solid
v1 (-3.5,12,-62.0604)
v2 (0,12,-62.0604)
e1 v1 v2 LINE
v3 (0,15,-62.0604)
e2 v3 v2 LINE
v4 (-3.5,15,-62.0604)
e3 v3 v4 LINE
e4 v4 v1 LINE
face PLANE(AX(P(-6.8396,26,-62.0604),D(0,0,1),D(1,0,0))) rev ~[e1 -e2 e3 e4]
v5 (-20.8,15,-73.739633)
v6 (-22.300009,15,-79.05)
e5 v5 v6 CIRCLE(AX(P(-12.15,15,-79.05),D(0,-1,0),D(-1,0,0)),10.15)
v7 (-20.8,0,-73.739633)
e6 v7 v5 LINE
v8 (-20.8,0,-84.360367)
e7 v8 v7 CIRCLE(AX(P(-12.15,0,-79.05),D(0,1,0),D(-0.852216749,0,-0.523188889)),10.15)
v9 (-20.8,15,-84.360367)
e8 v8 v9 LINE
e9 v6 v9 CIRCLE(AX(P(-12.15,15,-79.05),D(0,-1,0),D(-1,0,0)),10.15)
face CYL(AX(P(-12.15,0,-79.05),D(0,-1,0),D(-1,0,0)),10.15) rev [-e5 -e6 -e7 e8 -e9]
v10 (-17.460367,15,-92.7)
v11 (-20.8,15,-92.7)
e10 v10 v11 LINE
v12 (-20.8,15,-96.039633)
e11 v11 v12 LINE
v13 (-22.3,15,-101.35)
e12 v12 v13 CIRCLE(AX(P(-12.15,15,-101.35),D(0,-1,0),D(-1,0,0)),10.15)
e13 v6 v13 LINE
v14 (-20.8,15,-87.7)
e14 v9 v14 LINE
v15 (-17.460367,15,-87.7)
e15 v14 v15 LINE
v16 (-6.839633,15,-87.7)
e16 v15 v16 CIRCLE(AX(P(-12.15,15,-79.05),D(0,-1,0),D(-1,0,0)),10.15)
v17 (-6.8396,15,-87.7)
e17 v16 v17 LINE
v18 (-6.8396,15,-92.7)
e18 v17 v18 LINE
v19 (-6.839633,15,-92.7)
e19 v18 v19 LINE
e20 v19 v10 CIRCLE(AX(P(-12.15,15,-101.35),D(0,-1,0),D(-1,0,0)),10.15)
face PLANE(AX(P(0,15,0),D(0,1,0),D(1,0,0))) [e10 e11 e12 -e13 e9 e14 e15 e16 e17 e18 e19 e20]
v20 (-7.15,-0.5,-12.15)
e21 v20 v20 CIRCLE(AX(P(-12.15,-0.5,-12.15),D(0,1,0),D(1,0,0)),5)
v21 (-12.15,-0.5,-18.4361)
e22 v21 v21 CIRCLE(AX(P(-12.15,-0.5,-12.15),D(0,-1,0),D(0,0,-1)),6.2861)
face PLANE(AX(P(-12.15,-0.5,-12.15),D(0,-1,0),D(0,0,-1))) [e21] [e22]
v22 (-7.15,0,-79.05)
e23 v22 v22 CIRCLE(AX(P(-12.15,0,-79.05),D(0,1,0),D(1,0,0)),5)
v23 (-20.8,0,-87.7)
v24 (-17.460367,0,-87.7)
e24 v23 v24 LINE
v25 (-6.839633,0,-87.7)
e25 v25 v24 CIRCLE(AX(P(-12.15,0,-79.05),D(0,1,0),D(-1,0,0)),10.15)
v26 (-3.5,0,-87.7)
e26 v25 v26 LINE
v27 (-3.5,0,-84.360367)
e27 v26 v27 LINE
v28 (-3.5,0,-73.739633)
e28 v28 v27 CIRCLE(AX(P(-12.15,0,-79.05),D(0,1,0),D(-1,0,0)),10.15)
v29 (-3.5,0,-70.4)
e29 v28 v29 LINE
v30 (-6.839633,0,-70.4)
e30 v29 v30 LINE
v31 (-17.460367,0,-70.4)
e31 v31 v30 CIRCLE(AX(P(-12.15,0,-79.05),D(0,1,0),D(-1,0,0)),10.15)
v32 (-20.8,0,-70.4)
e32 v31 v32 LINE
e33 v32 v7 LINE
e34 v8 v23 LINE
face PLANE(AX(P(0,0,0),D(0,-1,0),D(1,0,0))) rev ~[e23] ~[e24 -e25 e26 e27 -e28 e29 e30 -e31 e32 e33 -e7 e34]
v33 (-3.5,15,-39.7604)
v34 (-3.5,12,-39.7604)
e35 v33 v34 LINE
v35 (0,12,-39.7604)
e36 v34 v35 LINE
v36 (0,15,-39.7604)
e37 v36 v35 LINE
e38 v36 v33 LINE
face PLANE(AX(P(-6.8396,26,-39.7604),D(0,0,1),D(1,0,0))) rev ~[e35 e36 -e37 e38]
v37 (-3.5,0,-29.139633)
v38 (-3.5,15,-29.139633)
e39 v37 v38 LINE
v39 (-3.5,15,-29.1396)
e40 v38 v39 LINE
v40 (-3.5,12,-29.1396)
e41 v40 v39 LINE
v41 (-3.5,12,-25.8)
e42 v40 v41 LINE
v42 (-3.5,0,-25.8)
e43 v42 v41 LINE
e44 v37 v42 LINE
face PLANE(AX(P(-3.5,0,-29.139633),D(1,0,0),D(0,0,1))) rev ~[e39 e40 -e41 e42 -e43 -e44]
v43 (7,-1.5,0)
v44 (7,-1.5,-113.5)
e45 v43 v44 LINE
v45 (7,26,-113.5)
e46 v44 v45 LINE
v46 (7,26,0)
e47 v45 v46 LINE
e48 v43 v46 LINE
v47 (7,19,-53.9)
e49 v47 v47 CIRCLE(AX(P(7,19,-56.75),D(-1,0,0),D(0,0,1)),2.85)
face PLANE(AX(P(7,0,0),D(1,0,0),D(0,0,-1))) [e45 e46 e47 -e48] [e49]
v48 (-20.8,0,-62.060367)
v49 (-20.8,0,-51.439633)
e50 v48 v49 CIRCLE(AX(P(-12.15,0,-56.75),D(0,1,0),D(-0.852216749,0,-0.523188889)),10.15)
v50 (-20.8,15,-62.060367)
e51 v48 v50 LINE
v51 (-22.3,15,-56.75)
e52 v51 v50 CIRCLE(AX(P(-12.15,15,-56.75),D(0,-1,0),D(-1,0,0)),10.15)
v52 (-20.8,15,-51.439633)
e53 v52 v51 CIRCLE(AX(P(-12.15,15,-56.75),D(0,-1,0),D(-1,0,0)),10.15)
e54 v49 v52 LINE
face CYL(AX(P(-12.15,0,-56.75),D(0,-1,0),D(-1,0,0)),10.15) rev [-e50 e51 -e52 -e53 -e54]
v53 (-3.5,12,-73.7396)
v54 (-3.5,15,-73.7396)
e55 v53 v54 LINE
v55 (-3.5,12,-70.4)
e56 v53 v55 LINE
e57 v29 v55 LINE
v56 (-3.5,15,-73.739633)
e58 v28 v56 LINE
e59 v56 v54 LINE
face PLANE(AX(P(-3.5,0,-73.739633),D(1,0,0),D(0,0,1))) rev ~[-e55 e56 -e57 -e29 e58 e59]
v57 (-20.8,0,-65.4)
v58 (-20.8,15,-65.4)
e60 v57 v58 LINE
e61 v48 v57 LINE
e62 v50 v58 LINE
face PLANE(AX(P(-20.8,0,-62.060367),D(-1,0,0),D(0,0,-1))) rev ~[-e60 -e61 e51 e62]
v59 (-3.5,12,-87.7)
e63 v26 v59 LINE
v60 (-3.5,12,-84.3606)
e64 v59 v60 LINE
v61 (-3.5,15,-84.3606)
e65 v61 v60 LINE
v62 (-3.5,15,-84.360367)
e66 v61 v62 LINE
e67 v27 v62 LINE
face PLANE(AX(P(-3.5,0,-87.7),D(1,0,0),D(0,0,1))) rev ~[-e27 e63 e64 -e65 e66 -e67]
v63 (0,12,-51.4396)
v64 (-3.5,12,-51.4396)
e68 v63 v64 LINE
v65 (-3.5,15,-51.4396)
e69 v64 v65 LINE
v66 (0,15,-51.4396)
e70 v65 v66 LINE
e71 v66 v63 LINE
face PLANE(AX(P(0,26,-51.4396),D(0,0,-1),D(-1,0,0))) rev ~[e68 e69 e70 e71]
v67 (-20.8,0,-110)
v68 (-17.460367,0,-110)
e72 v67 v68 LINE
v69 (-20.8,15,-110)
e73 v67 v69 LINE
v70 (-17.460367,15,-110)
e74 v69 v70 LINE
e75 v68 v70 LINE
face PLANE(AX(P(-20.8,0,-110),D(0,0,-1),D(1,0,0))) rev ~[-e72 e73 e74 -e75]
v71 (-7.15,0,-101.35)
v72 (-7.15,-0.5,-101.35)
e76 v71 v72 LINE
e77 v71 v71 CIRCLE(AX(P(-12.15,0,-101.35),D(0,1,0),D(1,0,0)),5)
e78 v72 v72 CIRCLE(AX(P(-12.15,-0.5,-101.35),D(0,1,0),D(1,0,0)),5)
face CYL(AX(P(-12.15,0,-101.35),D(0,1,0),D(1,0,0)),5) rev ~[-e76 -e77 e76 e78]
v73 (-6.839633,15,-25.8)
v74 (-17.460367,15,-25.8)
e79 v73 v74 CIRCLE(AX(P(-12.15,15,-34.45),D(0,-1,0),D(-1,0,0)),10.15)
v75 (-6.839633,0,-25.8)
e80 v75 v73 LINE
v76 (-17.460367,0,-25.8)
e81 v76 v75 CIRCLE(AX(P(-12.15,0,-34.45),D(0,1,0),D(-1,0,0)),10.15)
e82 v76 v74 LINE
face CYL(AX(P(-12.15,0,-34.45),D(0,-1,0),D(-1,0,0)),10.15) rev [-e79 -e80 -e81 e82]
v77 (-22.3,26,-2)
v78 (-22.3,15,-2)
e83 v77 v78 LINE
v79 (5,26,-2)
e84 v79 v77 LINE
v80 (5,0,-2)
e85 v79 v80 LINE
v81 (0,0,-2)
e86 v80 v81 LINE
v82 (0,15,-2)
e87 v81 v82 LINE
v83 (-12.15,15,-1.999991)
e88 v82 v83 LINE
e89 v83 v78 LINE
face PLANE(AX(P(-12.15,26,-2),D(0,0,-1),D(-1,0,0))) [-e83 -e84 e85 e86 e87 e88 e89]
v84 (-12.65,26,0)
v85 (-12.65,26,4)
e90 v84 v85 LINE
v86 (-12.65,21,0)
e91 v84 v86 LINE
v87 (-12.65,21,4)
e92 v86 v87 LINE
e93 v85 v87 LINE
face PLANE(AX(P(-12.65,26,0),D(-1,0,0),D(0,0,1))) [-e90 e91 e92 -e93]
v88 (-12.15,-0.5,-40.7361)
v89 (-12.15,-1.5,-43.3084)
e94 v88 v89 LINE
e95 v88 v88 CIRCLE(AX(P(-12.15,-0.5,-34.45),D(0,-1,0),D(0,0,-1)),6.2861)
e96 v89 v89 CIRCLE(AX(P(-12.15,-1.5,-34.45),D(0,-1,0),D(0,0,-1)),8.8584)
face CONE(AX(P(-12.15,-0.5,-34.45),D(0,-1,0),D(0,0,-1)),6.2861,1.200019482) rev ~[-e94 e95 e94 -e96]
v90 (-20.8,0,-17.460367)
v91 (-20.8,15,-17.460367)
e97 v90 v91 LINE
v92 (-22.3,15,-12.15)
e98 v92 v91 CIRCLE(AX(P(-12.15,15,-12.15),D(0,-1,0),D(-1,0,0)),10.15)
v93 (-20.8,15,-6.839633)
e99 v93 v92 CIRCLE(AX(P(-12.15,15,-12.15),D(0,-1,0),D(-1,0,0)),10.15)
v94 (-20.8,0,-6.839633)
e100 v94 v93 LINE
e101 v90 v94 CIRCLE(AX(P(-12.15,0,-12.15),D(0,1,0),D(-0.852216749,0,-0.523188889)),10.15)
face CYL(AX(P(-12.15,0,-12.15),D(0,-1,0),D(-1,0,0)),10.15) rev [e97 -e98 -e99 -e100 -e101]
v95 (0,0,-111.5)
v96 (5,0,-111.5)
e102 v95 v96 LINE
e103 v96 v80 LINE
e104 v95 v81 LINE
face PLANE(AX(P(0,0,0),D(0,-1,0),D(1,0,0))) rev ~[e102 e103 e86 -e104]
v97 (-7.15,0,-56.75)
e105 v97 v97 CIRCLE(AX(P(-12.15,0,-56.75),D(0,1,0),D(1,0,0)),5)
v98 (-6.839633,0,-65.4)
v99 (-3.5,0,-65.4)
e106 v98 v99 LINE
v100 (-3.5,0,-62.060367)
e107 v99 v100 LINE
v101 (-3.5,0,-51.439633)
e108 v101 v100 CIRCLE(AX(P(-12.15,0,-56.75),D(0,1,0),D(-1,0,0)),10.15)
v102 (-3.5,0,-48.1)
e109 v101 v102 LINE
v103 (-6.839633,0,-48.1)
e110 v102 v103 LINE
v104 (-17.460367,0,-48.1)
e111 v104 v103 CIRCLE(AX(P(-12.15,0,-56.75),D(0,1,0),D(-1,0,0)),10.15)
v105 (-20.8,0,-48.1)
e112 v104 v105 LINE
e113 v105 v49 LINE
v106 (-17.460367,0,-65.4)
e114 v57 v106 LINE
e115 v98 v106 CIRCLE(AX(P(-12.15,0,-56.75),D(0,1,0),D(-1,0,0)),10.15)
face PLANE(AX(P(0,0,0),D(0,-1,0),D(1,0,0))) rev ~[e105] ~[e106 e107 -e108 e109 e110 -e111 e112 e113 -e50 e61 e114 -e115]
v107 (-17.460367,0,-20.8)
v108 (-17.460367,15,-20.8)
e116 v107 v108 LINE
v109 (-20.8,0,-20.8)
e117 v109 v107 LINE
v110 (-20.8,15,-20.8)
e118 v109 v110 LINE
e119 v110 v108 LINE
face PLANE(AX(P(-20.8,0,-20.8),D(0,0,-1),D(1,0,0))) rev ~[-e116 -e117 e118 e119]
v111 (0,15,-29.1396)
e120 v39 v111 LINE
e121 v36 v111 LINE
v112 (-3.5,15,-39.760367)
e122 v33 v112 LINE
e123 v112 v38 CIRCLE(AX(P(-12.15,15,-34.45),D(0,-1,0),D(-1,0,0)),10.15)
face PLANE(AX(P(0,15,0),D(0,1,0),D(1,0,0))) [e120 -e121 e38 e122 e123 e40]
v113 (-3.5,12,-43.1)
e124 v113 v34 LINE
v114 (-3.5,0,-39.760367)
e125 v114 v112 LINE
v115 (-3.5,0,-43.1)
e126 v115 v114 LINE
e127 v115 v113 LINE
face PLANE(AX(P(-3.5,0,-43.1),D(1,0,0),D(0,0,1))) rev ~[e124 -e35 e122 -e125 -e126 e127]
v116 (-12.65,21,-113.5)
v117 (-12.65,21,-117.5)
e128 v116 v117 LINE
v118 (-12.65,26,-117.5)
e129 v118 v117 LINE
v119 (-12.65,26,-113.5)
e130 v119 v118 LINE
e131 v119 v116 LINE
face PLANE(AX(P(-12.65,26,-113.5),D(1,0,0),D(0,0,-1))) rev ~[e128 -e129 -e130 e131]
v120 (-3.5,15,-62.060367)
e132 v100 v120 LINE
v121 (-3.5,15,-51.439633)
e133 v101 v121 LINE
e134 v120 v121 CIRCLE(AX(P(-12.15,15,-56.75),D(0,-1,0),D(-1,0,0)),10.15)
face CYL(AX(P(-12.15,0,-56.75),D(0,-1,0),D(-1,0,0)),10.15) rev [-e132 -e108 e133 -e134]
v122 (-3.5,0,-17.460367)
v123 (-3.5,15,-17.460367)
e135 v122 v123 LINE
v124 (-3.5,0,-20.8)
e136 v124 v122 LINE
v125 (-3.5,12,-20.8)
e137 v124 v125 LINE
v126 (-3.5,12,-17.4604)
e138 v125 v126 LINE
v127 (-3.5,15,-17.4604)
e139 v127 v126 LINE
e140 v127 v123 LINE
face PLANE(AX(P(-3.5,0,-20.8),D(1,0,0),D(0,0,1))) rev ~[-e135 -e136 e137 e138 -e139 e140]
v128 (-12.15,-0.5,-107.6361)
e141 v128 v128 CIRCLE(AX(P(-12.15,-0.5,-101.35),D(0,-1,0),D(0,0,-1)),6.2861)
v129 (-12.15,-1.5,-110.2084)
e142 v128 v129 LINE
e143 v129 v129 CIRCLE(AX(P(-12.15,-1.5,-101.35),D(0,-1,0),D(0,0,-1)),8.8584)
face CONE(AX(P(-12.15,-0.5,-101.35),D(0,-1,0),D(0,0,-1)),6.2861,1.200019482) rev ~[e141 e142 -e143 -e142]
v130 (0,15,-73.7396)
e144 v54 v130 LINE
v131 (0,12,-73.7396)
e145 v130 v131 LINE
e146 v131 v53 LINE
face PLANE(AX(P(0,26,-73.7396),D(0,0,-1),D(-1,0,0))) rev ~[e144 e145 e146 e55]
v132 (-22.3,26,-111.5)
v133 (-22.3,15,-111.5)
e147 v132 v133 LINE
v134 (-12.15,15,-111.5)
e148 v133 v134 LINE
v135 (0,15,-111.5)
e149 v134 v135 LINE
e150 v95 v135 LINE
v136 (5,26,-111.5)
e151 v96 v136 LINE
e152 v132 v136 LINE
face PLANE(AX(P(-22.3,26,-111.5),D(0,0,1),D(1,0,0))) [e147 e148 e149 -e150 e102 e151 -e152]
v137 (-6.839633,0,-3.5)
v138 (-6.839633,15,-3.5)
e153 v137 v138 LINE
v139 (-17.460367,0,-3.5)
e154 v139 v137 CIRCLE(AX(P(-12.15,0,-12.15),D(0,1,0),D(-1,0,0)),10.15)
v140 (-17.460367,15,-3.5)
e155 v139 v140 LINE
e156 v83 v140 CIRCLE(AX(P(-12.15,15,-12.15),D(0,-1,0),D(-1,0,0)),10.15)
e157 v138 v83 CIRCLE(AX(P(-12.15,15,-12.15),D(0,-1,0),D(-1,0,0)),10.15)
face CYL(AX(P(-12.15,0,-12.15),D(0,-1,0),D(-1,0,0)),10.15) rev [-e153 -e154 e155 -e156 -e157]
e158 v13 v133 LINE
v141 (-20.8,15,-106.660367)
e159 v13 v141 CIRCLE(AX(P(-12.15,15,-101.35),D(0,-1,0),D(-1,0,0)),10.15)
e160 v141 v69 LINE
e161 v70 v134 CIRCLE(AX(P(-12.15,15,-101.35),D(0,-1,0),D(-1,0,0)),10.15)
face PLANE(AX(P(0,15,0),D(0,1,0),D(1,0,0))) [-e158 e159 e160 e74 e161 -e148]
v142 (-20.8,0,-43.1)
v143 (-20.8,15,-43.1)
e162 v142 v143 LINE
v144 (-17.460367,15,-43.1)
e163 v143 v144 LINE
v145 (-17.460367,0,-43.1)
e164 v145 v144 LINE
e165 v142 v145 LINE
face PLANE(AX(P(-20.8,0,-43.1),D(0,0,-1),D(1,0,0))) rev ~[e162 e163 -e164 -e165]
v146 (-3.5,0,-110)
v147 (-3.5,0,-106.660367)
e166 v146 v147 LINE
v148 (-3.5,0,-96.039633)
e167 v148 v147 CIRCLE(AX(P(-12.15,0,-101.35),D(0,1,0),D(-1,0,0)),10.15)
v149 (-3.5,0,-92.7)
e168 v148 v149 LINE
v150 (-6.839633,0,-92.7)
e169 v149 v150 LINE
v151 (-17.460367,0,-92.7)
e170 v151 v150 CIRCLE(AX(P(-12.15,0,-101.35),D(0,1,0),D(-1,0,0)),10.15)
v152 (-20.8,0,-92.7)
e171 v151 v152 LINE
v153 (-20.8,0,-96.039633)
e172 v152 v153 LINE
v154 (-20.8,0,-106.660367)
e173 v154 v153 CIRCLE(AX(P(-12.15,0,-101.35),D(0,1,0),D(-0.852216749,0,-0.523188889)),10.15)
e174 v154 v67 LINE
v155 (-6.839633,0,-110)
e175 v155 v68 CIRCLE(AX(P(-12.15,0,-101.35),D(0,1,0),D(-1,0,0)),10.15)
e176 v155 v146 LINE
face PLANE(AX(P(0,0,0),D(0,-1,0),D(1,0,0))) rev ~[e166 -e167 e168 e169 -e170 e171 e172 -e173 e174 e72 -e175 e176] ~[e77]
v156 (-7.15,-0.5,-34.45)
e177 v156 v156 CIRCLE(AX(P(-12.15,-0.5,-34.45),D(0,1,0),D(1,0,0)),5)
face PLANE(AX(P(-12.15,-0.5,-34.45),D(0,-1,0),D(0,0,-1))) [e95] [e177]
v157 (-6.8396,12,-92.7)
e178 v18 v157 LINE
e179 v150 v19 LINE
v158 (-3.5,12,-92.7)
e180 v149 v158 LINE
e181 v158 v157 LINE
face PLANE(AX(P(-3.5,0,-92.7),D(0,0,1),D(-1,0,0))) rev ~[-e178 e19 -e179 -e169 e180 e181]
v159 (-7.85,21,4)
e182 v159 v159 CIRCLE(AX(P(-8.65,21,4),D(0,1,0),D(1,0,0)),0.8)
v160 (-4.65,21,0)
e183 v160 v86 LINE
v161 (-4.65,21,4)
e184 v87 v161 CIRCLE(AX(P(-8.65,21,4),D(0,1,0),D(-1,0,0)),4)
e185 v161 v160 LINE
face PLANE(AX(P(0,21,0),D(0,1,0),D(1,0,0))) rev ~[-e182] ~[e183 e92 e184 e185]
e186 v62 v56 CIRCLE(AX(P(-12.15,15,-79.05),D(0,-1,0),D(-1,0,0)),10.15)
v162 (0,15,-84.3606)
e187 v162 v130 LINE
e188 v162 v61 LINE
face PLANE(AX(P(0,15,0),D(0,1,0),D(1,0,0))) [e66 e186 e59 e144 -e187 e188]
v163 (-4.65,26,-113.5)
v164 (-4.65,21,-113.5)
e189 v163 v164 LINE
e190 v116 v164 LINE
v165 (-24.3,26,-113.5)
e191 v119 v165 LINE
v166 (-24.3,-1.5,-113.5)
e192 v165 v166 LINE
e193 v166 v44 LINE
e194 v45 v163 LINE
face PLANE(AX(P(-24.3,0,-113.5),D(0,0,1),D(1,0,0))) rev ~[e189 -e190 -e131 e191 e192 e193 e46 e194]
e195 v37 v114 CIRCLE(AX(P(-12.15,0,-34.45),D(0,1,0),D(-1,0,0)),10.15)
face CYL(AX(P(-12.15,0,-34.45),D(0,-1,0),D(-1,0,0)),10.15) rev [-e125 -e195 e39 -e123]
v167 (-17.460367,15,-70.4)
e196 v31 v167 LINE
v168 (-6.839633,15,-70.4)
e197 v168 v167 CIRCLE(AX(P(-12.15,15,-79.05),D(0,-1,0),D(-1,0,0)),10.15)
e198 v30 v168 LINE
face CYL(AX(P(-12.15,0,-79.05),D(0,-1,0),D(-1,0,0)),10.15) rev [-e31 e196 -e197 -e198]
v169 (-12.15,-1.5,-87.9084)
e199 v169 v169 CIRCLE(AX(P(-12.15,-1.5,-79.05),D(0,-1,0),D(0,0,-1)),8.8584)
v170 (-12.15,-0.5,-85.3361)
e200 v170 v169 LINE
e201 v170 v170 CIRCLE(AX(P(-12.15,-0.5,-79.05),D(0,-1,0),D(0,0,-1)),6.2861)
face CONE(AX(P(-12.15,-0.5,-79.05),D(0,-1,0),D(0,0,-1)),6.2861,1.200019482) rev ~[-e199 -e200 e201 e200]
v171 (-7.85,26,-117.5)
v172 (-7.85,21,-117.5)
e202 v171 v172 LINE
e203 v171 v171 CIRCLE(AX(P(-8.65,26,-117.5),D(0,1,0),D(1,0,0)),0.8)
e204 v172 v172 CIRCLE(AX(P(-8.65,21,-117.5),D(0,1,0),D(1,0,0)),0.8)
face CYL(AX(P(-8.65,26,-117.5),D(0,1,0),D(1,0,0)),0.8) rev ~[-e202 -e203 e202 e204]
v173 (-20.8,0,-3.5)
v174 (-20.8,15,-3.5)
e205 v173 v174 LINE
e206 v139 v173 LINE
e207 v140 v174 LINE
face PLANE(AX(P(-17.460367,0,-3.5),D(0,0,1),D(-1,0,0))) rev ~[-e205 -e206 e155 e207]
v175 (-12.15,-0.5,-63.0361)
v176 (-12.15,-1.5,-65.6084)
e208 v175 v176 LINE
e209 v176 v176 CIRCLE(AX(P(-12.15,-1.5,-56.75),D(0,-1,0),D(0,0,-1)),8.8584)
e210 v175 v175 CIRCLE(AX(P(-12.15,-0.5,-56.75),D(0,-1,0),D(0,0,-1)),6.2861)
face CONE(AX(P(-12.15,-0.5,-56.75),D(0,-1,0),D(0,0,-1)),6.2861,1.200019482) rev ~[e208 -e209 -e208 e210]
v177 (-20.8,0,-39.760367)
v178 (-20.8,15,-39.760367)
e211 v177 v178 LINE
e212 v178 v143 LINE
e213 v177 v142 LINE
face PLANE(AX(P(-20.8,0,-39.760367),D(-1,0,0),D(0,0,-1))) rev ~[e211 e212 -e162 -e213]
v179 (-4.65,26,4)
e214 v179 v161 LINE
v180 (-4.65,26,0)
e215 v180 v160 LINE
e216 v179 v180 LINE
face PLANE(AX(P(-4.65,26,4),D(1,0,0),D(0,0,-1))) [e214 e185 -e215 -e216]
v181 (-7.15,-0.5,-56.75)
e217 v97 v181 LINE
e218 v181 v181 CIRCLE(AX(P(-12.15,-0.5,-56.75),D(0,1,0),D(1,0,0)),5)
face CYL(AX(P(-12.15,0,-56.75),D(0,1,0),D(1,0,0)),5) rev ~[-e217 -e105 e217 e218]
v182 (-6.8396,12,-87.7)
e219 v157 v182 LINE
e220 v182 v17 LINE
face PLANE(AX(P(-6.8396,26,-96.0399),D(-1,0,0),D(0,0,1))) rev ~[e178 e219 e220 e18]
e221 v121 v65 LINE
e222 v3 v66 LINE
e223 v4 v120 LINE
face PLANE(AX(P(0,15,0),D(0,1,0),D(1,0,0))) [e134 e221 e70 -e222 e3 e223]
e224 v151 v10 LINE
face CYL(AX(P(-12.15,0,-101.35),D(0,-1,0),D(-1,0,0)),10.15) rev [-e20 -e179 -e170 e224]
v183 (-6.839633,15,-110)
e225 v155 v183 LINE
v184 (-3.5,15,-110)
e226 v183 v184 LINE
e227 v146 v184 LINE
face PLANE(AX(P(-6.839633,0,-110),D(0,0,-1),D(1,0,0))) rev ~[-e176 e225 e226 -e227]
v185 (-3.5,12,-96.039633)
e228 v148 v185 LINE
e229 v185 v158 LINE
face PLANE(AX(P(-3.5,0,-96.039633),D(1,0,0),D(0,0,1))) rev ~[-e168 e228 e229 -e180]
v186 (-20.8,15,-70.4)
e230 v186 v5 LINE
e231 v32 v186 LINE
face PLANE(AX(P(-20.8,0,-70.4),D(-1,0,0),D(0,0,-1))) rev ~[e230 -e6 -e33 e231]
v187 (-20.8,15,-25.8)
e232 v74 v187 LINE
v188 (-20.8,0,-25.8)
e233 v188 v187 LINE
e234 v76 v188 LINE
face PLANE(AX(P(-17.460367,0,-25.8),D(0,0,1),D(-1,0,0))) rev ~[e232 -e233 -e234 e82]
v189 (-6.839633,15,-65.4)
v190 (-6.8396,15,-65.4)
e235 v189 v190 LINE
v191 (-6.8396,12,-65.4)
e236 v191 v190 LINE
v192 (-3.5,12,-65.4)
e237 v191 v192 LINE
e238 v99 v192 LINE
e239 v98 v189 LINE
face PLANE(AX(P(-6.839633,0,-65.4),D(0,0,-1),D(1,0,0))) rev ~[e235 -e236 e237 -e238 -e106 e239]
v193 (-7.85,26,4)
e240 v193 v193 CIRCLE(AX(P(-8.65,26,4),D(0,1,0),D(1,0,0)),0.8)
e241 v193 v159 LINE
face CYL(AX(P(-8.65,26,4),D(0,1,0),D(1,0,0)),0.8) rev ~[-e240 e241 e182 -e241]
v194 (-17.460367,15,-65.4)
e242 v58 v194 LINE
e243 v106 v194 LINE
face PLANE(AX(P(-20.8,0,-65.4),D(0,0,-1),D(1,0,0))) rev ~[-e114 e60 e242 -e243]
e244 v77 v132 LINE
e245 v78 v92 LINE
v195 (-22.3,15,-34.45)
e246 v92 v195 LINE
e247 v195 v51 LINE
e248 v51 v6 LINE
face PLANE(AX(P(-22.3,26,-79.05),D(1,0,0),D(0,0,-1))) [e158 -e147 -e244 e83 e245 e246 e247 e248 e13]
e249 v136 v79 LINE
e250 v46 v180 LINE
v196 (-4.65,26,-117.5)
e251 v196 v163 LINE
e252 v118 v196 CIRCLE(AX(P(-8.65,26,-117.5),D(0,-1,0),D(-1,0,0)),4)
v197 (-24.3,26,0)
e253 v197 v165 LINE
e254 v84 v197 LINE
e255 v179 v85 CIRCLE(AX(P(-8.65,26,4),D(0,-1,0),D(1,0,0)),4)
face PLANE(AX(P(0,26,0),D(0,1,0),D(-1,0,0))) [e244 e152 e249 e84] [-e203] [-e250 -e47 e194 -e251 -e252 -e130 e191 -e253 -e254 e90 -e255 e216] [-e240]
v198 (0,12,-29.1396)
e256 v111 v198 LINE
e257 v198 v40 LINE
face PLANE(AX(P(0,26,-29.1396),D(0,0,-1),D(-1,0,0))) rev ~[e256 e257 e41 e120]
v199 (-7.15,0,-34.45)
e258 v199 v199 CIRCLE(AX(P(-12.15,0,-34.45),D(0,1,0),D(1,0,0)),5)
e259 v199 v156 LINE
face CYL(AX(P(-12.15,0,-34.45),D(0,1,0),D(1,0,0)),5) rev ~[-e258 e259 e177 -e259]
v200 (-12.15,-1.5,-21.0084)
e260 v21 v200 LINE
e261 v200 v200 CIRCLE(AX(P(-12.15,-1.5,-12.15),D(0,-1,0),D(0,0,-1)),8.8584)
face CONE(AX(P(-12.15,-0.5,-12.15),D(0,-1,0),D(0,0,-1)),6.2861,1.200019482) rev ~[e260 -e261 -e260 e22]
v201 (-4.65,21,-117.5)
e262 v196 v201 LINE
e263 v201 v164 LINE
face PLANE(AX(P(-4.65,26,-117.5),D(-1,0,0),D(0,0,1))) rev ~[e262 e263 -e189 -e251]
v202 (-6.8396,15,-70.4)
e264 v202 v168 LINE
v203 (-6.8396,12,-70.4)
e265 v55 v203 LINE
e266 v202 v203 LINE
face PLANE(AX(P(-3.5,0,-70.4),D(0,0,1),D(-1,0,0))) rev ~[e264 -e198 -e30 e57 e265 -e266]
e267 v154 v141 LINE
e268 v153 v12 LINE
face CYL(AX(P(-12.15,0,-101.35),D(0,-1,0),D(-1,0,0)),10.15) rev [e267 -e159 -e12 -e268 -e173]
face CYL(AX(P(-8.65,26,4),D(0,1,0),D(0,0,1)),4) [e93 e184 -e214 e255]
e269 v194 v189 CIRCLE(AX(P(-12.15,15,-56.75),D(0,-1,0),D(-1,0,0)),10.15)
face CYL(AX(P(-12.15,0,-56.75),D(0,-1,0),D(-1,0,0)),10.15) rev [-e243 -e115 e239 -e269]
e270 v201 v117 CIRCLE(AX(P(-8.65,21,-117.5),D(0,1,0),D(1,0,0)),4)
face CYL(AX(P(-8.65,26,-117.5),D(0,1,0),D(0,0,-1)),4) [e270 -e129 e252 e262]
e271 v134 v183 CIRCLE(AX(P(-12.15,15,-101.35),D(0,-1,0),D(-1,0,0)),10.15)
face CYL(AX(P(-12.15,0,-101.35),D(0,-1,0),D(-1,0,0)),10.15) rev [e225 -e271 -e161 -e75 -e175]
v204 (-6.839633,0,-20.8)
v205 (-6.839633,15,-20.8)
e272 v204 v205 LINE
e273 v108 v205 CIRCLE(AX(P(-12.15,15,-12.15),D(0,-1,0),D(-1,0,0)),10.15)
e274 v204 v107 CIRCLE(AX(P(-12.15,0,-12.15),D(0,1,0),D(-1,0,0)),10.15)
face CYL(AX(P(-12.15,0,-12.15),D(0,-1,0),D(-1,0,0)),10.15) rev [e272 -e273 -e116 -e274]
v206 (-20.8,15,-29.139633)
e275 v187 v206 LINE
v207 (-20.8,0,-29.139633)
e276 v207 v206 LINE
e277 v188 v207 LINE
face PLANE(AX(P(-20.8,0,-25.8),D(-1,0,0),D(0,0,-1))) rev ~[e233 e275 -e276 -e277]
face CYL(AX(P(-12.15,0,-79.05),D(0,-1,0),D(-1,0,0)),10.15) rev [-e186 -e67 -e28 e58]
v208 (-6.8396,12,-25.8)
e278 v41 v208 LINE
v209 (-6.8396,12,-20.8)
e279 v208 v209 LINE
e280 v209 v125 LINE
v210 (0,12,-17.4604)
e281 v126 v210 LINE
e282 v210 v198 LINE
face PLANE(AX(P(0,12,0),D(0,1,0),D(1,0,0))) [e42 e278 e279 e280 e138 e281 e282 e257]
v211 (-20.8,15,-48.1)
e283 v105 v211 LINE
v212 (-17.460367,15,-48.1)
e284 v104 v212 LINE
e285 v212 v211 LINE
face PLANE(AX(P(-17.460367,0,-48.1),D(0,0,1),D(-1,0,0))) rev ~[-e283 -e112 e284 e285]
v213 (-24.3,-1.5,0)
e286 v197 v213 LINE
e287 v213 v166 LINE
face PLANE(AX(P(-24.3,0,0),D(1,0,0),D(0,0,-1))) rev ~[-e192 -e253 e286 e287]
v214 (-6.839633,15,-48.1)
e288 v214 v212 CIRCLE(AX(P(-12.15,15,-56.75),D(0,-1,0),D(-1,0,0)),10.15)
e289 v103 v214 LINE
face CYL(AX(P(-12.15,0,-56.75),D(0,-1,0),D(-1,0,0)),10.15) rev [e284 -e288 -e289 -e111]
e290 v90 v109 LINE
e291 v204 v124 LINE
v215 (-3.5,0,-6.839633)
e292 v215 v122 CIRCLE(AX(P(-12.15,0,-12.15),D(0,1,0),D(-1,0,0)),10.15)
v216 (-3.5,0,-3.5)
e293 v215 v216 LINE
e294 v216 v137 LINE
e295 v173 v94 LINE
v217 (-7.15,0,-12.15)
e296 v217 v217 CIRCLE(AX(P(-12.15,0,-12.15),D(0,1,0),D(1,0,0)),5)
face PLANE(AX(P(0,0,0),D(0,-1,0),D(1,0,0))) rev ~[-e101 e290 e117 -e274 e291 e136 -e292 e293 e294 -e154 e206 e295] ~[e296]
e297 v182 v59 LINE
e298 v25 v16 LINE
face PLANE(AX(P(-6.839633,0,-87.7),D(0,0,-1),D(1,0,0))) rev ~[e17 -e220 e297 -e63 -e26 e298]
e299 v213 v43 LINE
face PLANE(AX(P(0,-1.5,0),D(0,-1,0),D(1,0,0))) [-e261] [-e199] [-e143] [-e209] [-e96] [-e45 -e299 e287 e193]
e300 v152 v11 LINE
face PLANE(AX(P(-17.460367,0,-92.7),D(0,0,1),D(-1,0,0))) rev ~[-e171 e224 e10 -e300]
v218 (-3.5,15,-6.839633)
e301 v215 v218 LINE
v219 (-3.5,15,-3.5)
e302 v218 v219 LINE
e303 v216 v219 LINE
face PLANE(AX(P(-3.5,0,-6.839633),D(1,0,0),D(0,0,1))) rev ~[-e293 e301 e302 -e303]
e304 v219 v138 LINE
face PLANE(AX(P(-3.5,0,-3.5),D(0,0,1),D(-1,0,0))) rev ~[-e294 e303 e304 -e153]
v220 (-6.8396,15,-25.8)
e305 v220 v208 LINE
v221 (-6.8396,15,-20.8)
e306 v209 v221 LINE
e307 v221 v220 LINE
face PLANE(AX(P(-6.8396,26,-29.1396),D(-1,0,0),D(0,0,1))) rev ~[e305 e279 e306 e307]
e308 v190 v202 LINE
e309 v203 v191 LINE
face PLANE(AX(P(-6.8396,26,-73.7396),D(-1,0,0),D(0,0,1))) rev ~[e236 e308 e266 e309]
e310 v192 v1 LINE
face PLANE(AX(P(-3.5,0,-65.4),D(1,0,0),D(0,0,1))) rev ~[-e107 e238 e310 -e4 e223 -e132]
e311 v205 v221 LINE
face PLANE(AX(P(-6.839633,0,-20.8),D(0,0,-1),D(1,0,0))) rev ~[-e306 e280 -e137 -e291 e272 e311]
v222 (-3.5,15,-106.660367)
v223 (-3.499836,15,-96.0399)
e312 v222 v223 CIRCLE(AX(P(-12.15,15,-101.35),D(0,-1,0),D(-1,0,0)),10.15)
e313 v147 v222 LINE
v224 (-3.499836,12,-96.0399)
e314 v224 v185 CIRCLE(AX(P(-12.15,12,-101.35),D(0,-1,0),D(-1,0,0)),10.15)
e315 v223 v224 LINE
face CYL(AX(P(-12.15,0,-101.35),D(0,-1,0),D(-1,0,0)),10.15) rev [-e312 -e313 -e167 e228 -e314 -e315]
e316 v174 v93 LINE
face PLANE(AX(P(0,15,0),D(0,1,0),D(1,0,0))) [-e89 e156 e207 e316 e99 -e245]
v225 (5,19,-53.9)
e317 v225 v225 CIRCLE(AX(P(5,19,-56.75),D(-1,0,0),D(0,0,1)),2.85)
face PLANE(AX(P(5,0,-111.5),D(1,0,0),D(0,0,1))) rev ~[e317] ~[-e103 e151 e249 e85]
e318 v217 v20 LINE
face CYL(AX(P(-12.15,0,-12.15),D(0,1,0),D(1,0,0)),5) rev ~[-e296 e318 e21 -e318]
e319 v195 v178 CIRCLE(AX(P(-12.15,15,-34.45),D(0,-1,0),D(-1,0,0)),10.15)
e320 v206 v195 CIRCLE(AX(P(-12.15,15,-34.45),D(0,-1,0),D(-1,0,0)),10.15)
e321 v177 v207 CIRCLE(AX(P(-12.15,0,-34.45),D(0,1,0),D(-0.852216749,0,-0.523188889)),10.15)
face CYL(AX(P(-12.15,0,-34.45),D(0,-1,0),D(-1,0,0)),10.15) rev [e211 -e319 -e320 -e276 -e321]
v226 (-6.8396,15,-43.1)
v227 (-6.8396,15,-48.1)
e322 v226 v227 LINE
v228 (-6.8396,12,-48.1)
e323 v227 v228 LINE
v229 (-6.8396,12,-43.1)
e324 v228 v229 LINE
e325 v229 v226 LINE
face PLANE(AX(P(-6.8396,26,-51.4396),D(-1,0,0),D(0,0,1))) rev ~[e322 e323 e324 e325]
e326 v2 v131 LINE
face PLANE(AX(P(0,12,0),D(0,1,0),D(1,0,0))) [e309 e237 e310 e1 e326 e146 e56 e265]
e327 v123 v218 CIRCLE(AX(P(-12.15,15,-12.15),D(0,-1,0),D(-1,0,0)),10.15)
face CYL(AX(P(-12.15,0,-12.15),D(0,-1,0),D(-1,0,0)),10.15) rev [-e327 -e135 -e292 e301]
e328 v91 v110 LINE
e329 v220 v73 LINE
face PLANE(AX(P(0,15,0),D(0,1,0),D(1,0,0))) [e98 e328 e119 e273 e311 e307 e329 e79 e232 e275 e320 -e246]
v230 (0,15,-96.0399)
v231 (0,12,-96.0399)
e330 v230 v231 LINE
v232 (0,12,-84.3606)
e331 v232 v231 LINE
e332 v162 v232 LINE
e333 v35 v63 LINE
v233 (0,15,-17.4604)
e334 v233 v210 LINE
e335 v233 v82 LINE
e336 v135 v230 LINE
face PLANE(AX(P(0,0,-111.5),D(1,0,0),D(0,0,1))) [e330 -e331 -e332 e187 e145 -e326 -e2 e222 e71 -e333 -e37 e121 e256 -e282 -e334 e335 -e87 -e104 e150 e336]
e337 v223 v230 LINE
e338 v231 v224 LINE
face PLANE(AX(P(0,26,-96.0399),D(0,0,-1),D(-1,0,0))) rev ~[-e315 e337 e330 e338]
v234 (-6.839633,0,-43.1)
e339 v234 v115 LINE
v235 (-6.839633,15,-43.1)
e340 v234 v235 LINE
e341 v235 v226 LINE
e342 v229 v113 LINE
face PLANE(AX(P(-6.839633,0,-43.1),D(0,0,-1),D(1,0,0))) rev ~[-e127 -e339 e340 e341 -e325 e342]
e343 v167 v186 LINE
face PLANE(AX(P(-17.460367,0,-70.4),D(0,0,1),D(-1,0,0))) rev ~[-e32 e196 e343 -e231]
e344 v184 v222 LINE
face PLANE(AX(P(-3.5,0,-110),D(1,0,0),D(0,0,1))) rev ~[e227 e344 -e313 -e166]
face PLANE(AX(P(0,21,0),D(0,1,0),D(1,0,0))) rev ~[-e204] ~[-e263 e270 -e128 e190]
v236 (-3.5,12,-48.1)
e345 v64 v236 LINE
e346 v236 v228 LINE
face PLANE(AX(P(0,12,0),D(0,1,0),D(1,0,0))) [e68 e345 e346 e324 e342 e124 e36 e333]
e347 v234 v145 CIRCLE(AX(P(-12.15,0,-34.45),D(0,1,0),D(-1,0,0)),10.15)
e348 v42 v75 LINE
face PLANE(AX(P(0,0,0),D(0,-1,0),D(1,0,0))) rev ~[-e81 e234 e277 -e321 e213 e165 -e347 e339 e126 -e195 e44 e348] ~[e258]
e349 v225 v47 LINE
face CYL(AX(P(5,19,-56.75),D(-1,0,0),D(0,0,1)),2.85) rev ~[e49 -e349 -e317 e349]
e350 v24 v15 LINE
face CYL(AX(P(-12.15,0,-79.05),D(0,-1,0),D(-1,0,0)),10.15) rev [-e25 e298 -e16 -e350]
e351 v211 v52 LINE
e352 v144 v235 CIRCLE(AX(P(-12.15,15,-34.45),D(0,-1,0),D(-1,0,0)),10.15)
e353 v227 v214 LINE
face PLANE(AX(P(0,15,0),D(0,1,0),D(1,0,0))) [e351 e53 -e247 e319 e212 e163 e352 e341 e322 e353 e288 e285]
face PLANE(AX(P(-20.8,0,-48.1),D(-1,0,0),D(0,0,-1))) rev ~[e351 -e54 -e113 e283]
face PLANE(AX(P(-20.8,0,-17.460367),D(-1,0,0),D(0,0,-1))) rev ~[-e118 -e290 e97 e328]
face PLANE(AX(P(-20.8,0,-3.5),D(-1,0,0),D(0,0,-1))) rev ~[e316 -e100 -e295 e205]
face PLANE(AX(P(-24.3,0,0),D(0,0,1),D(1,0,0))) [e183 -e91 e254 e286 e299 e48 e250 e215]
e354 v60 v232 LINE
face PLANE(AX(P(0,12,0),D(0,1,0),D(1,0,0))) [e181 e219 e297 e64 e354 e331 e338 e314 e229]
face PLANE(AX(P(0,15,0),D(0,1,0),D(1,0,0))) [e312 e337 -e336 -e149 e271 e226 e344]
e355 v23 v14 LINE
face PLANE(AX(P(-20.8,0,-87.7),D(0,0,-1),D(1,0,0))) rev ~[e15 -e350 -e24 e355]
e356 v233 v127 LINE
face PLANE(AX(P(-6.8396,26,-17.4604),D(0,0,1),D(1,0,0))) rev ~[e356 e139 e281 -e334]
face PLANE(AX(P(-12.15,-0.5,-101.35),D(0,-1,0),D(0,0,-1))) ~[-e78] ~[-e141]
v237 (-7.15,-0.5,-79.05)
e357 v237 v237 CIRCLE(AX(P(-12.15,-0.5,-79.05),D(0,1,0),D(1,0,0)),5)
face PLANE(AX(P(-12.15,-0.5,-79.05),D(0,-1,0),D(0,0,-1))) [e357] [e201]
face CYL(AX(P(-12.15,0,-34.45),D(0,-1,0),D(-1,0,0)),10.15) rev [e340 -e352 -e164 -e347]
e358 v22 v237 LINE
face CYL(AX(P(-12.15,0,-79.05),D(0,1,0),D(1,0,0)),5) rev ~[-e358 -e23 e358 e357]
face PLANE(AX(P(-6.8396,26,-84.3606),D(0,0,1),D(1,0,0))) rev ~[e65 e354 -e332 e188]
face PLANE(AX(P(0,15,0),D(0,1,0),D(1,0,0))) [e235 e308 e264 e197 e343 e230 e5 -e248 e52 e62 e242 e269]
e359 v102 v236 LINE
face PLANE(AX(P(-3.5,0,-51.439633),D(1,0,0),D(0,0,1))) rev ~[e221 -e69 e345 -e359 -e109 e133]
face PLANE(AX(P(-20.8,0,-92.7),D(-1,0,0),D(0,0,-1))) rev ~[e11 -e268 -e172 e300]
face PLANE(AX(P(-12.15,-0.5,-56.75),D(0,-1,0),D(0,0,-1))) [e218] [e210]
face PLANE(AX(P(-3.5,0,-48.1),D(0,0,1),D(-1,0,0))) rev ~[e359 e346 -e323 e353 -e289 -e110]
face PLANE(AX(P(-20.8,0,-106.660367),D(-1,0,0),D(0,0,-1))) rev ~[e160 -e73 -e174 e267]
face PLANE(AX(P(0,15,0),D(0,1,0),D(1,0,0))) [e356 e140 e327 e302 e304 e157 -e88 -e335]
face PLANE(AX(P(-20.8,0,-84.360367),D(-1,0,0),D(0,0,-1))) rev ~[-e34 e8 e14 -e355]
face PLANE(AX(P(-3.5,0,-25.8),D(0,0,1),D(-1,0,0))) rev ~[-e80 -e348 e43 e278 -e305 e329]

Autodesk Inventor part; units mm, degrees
ref_plane "YZ Plane" through (0, 0, 0) normal (1, 0, 0) x (0, 1, 0)
ref_plane "XZ Plane" through (0, 0, 0) normal (0, 1, 0) x (-1, 0, 0)
ref_plane "XY Plane" through (0, 0, 0) normal (0, 0, 1) x (1, 0, 0)
sketch "Esboço1" plane through (0, 0, 0) normal (0, 1, 0) x (-1, 0, 0)
  circle A0 centre (12.15, -12.15) radius 10.15
  line L0 (0, 0) -> (24.3, 0)
  line L1 (24.3, 0) -> (24.3, -113.5)
  line L2 (24.3, -113.5) -> (0, -113.5)
  line L3 (0, -113.5) -> (0, 0)
  line L4 (20.8, -20.8) -> (3.5, -20.8)
  line L5 (3.5, -20.8) -> (3.5, -3.5)
  line L6 (3.5, -3.5) -> (20.8, -3.5)
  line L7 (20.8, -3.5) -> (20.8, -20.8)
  circle A1 centre (12.15, -34.45) radius 10.15
  line L8 (20.8, -43.1) -> (3.5, -43.1)
  line L9 (3.5, -43.1) -> (3.5, -25.8)
  line L10 (3.5, -25.8) -> (20.8, -25.8)
  line L11 (20.8, -25.8) -> (20.8, -43.1)
  circle A2 centre (12.15, -56.75) radius 10.15
  line L12 (20.8, -65.4) -> (3.5, -65.4)
  line L13 (3.5, -65.4) -> (3.5, -48.1)
  line L14 (3.5, -48.1) -> (20.8, -48.1)
  line L15 (20.8, -48.1) -> (20.8, -65.4)
  circle A3 centre (12.15, -79.05) radius 10.15
  line L16 (20.8, -87.7) -> (3.5, -87.7)
  line L17 (3.5, -87.7) -> (3.5, -70.4)
  line L18 (3.5, -70.4) -> (20.8, -70.4)
  line L19 (20.8, -70.4) -> (20.8, -87.7)
  line L20 (0, -113.5) -> (-7, -113.5)
  line L21 (-7, -113.5) -> (-7, 0)
  line L22 (-7, 0) -> (0, 0)
  line L23 (0, -111.5) -> (-5, -111.5)
  line L24 (-5, -111.5) -> (-5, -2)
  line L25 (-5, -2) -> (0, -2)
  circle A4 centre (12.15, -101.35) radius 10.15
  line L26 (20.8, -110) -> (3.5, -110)
  line L27 (3.5, -110) -> (3.5, -92.7)
  line L28 (3.5, -92.7) -> (20.8, -92.7)
  line L29 (20.8, -92.7) -> (20.8, -110)
  point P0 (20.8, -84.3604)
  point P1 (17.4604, -87.7)
  point P2 (6.8396, -87.7)
  point P3 (3.5, -84.3604)
  point P4 (3.5, -73.7396)
  point P5 (6.8396, -70.4)
  point P6 (17.4604, -70.4)
  point P7 (20.8, -73.7396)
  point P8 (20.8, -62.0604)
  point P9 (17.4604, -65.4)
  point P10 (6.8396, -65.4)
  point P11 (3.5, -62.0604)
  point P12 (3.5, -51.4396)
  point P13 (6.8396, -48.1)
  point P14 (17.4604, -48.1)
  point P15 (20.8, -51.4396)
  point P16 (20.8, -39.7604)
  point P17 (17.4604, -43.1)
  point P18 (6.8396, -43.1)
  point P19 (3.5, -39.7604)
  point P20 (3.5, -29.1396)
  point P21 (6.8396, -25.8)
  point P22 (17.4604, -25.8)
  point P23 (20.8, -29.1396)
  point P24 (20.8, -17.4604)
  point P25 (17.4604, -20.8)
  point P26 (6.8396, -20.8)
  point P27 (3.5, -17.4604)
  point P28 (3.5, -6.8396)
  point P29 (6.8396, -3.5)
  point P30 (17.4604, -3.5)
  point P31 (20.8, -6.8396)
  point P32 (6.8396, -62.0604)
  point P33 (0, -111.5)
  point P34 (6.8396, -110)
  point P35 (3.5, -106.6604)
  point P36 (3.5, -96.0396)
  point P37 (6.8396, -92.7)
  point P38 (17.4604, -92.7)
  point P39 (20.8, -96.0396)
  point P40 (20.8, -106.6604)
  point P41 (17.4604, -110)
  dimension "d0" = 20.3
  dimension "d24" = 22.3
  dimension "d39" = 12.15
  dimension "d41" = 7
  dimension "d42" = 2
  dimension "d96" = 3.5
  dimension "d102" = 5
extrude "Base" add sketch "Esboço1" along normal blind 26 contours L0 L1 L2 L3 | L3 L25 L24 L23 L20 L21 L22
sketch "Esboço2" plane through (0, 0, 0) normal (0, -1, 0) x (1, 0, 0)
  line L0 (-24.3, 0) -> (-24.3, -113.5)
  line L1 (-24.3, -113.5) -> (7, -113.5)
  line L2 (7, 0) -> (7, -113.5) projected
  line L3 (7, 0) -> (7, -113.5)
  line L4 (-24.3, 0) -> (7, 0) projected
  line L5 (7, 0) -> (-24.3, 0)
extrude "Fundo" add sketch "Esboço2" along normal blind 1.5
sketch "Esboço3" plane through (0, 0, 0) normal (0, 1, 0) x (1, 0, 0)
  arc A0 (-6.8396, 20.8) -> (-17.4604, 20.8) centre (-12.15, 12.15) ccw projected
  circle A1 centre (-12.15, 12.15) radius 5
  arc A2 (-6.8396, 43.1) -> (-17.4604, 43.1) centre (-12.15, 34.45) ccw projected
  circle A3 centre (-12.15, 34.45) radius 5
  arc A4 (-6.8396, 65.4) -> (-17.4604, 65.4) centre (-12.15, 56.75) ccw projected
  circle A5 centre (-12.15, 56.75) radius 5
  arc A6 (-6.8396, 87.7) -> (-17.4604, 87.7) centre (-12.15, 79.05) ccw projected
  circle A7 centre (-12.15, 79.05) radius 5
  arc A8 (-20.8, 106.6604) -> (-20.8, 96.0396) centre (-12.15, 101.35) ccw projected
  circle A9 centre (-12.15, 101.35) radius 5
  point P0 (0, 0)
  dimension "d33" = 10
  dimension "d34" = 10
  dimension "d35" = 10
  dimension "d36" = 10
  dimension "d104" = 10
extrude "Furo Fundo" cut sketch "Esboço3" against normal up to surface (1.5 mm away)
sketch "Esboço4" plane through (0, 26, 0) normal (0, 1, 0) x (1, 0, 0)
  line L0 (-3.5, 3.5) -> (-6.8396, 3.5) projected
  line L1 (-6.8396, 17.4604) -> (0, 17.4604)
  line L2 (0, 17.4604) -> (0, 29.1396)
  line L3 (0, 29.1396) -> (-6.8396, 29.1396)
  line L4 (-6.8396, 29.1396) -> (-6.8396, 17.4604)
  line L5 (-6.8396, 39.7604) -> (0, 39.7604)
  line L6 (0, 39.7604) -> (0, 51.4396)
  line L7 (0, 51.4396) -> (-6.8396, 51.4396)
  line L8 (-6.8396, 51.4396) -> (-6.8396, 39.7604)
  line L9 (-6.8396, 62.0604) -> (0, 62.0604)
  line L10 (0, 62.0604) -> (0, 73.7396)
  line L11 (0, 73.7396) -> (-6.8396, 73.7396)
  line L12 (-6.8396, 73.7396) -> (-6.8396, 62.0604)
  line L13 (-6.8396, 84.3606) -> (0, 84.3606)
  line L14 (0, 84.3606) -> (0, 96.0399)
  line L15 (0, 96.0399) -> (-6.8396, 96.0399)
  line L16 (-6.8396, 96.0399) -> (-6.8396, 84.3606)
  point P0 (0, 0)
  point P1 (-6.8396, 87.7)
  point P2 (-3.5, 17.4604)
  point P3 (-6.8396, 29.1396)
  point P4 (-6.8396, 51.4396)
  point P5 (-6.8396, 73.7396)
extrude "Espaço Fio E.I" cut sketch "Esboço4" against normal blind 14
sketch "Esboço5" plane through (0, 26, 0) normal (0, 1, 0) x (1, 0, 0)
  arc A0 (-17.4604, 3.5) -> (-6.8396, 3.5) centre (-12.15, 12.15) ccw projected
  arc A1 (-6.8396, 87.7) -> (-17.4604, 87.7) centre (-12.15, 79.05) ccw projected
  arc A2 (-20.8, 84.3604) -> (-20.8, 73.7396) centre (-12.15, 79.05) ccw projected
  line L0 (5, 2) -> (-22.3, 2)
  line L1 (-22.3, 2) -> (-22.3, 111.5)
  line L2 (-22.3, 111.5) -> (5, 111.5)
  line L3 (5, 111.5) -> (5, 2)
  line L4 (5, 111.5) -> (5, 2) projected
  line L5 (0, 111.5) -> (5, 111.5) projected
  point P0 (0, 0)
extrude "Suporte PCB" cut sketch "Esboço5" against normal blind 11
sketch "Esboço6" plane through (5, 26, -111.5) normal (-1, 0, 0) x (0, 0, 1)
  circle A0 centre (54.75, -7) radius 2.85
  line L0 (77.05, -11) -> (54.75, -11) projected
  line L1 (-2, 0) -> (111.5, 0) projected
  point P0 (111.5, -26)
  dimension "d49" = 5.7
extrude "Furo LED" cut sketch "Esboço6" against normal up to surface (2 mm away)
sketch "Esboço7" plane through (0, 26, 0) normal (0, 1, 0) x (1, 0, 0)
  line L0 (-22.3, 2) -> (-22.3, 111.5) projected
  line L1 (5, 111.5) -> (5, 2) projected
  line L2 (-24.3, 0) -> (-24.3, 113.5) projected
  line L3 (-8.65, 0) -> (-12.65, 0)
  line L4 (-12.65, 0) -> (-12.65, -4)
  line L5 (-8.65, -8) -> (-8.65, -8)
  line L6 (-4.65, -4) -> (-4.65, 0)
  line L7 (-4.65, 0) -> (-8.65, 0)
  circle A0 centre (-8.65, -4) radius 0.8
  arc A1 (-8.65, -8) -> (-4.65, -4) centre (-8.65, -4) ccw
  arc A2 (-12.65, -4) -> (-8.65, -8) centre (-8.65, -4) ccw
  circle A3 centre (-12.15, 56.75) radius 5 projected
  line L8 (-12.15, 56.75) -> (-4.65, 56.75)
  line L9 (-12.65, 113.5) -> (-12.65, 117.5)
  line L10 (-8.65, 113.5) -> (-12.65, 113.5)
  line L11 (-4.65, 117.5) -> (-4.65, 113.5)
  line L12 (-4.65, 113.5) -> (-8.65, 113.5)
  circle A4 centre (-8.65, 117.5) radius 0.8
  arc A5 (-4.65, 117.5) -> (-8.65, 121.5) centre (-8.65, 117.5) ccw
  arc A6 (-8.65, 121.5) -> (-12.65, 117.5) centre (-8.65, 117.5) ccw
  line L13 (-8.65, 121.5) -> (-8.65, 121.5)
  point P0 (-12.65, -8)
  point P1 (-4.65, -8)
  point P2 (-4.65, 121.5)
  point P3 (-12.65, 121.5)
extrude "Suporte Parafuso" add sketch "Esboço7" against normal blind 5 contours L7 L6 A1 A2 L4 L3 | L9 A6 A5 L11 L12 L10
ref_plane "Plano de trabalho1" through (-12.15, 26, -113.5) normal (-1, 0, 0) x (0, 0, 1)
sketch "Esboço8" plane through (-12.15, 26, -113.5) normal (-1, 0, 0) x (0, 0, 1)
  line L0 (5.8639, -26.5) -> (3.2916, -27.5)
  line L1 (113.5, -27.5) -> (0, -27.5) projected
  line L2 (3.2916, -27.5) -> (7.15, -27.5)
  line L3 (111.5, -26) -> (2, -26) projected
  line L4 (12.15, -26.5) -> (12.15, -27.5)
  line L5 (12.15, -27.5) -> (3.2916, -27.5)
  line L6 (29.45, -26) -> (39.45, -26) projected
  line L7 (29.45, -26) -> (34.45, -26)
  line L8 (12.15, -26.5) -> (5.8639, -26.5)
  line L9 (51.75, -26) -> (61.75, -26) projected
  line L10 (51.75, -26) -> (56.75, -26)
  line L11 (13.8435, -26.5) -> (16.8286, -26.5)
  line L12 (16.8286, -26.5) -> (110.2631, -26.5)
  line L13 (110.2631, -26.5) -> (16.3892, -26.5)
  line L14 (84.05, -27.5) -> (74.05, -27.5) projected
  line L15 (34.45, -26.5) -> (34.45, -27.5)
  line L16 (28.1639, -26.5) -> (25.5916, -27.5)
  line L17 (25.5916, -27.5) -> (29.45, -27.5)
  line L18 (34.45, -27.5) -> (25.5916, -27.5)
  line L19 (34.45, -26.5) -> (28.1639, -26.5)
  line L20 (56.75, -26.5) -> (56.75, -27.5)
  line L21 (50.4639, -26.5) -> (47.8916, -27.5)
  line L22 (47.8916, -27.5) -> (51.75, -27.5)
  line L23 (56.75, -27.5) -> (47.8916, -27.5)
  line L24 (56.75, -26.5) -> (50.4639, -26.5)
  line L25 (79.05, -26.5) -> (79.05, -27.5)
  line L26 (72.7639, -26.5) -> (70.1916, -27.5)
  line L27 (70.1916, -27.5) -> (74.05, -27.5)
  line L28 (79.05, -27.5) -> (70.1916, -27.5)
  line L29 (79.05, -26.5) -> (72.7639, -26.5)
  line L30 (101.35, -26.5) -> (101.35, -27.5)
  line L31 (95.0639, -26.5) -> (92.4916, -27.5)
  line L32 (92.4916, -27.5) -> (96.35, -27.5)
  line L33 (101.35, -27.5) -> (92.4916, -27.5)
  line L34 (101.35, -26.5) -> (95.0639, -26.5)
  point P0 (113.5, -26)
  point P1 (17.15, -26)
  point P2 (17.15, -26)
  point P3 (79.05, -27.5)
  point P4 (101.3467, -26)
  point P5 (79.05, -26)
  point P6 (25.5916, -27.5)
  point P7 (34.45, -27.5)
  point P8 (34.45, -26.5)
  dimension "d117" = 22.3
revolve "Revolução2" cut sketch "Esboço8" angle 360 about axis through (-12.15, -0.5, -101.35) along (0, -1, 0) contours L8 L4 L1 L0
revolve "Revolução3" cut sketch "Esboço8" angle 360 about axis through (-12.15, -0.5, -79.05) along (0, -1, 0) contours L16 L12 L15 L1
revolve "Revolução4" cut sketch "Esboço8" angle 360 about axis through (-12.15, -0.5, -56.75) along (0, -1, 0) contours L21 L12 L20 L1
revolve "Revolução5" cut sketch "Esboço8" angle 360 about axis through (-12.15, -0.5, -12.15) along (0, -1, 0) contours L12 L30 L1 L31
revolve "Revolução6" cut sketch "Esboço8" angle 360 about axis through (-12.15, -0.5, -34.45) along (0, -1, 0) contours L12 L25 L1 L26
properties part number "Suporte 4 EletroImã_3DPrint"
